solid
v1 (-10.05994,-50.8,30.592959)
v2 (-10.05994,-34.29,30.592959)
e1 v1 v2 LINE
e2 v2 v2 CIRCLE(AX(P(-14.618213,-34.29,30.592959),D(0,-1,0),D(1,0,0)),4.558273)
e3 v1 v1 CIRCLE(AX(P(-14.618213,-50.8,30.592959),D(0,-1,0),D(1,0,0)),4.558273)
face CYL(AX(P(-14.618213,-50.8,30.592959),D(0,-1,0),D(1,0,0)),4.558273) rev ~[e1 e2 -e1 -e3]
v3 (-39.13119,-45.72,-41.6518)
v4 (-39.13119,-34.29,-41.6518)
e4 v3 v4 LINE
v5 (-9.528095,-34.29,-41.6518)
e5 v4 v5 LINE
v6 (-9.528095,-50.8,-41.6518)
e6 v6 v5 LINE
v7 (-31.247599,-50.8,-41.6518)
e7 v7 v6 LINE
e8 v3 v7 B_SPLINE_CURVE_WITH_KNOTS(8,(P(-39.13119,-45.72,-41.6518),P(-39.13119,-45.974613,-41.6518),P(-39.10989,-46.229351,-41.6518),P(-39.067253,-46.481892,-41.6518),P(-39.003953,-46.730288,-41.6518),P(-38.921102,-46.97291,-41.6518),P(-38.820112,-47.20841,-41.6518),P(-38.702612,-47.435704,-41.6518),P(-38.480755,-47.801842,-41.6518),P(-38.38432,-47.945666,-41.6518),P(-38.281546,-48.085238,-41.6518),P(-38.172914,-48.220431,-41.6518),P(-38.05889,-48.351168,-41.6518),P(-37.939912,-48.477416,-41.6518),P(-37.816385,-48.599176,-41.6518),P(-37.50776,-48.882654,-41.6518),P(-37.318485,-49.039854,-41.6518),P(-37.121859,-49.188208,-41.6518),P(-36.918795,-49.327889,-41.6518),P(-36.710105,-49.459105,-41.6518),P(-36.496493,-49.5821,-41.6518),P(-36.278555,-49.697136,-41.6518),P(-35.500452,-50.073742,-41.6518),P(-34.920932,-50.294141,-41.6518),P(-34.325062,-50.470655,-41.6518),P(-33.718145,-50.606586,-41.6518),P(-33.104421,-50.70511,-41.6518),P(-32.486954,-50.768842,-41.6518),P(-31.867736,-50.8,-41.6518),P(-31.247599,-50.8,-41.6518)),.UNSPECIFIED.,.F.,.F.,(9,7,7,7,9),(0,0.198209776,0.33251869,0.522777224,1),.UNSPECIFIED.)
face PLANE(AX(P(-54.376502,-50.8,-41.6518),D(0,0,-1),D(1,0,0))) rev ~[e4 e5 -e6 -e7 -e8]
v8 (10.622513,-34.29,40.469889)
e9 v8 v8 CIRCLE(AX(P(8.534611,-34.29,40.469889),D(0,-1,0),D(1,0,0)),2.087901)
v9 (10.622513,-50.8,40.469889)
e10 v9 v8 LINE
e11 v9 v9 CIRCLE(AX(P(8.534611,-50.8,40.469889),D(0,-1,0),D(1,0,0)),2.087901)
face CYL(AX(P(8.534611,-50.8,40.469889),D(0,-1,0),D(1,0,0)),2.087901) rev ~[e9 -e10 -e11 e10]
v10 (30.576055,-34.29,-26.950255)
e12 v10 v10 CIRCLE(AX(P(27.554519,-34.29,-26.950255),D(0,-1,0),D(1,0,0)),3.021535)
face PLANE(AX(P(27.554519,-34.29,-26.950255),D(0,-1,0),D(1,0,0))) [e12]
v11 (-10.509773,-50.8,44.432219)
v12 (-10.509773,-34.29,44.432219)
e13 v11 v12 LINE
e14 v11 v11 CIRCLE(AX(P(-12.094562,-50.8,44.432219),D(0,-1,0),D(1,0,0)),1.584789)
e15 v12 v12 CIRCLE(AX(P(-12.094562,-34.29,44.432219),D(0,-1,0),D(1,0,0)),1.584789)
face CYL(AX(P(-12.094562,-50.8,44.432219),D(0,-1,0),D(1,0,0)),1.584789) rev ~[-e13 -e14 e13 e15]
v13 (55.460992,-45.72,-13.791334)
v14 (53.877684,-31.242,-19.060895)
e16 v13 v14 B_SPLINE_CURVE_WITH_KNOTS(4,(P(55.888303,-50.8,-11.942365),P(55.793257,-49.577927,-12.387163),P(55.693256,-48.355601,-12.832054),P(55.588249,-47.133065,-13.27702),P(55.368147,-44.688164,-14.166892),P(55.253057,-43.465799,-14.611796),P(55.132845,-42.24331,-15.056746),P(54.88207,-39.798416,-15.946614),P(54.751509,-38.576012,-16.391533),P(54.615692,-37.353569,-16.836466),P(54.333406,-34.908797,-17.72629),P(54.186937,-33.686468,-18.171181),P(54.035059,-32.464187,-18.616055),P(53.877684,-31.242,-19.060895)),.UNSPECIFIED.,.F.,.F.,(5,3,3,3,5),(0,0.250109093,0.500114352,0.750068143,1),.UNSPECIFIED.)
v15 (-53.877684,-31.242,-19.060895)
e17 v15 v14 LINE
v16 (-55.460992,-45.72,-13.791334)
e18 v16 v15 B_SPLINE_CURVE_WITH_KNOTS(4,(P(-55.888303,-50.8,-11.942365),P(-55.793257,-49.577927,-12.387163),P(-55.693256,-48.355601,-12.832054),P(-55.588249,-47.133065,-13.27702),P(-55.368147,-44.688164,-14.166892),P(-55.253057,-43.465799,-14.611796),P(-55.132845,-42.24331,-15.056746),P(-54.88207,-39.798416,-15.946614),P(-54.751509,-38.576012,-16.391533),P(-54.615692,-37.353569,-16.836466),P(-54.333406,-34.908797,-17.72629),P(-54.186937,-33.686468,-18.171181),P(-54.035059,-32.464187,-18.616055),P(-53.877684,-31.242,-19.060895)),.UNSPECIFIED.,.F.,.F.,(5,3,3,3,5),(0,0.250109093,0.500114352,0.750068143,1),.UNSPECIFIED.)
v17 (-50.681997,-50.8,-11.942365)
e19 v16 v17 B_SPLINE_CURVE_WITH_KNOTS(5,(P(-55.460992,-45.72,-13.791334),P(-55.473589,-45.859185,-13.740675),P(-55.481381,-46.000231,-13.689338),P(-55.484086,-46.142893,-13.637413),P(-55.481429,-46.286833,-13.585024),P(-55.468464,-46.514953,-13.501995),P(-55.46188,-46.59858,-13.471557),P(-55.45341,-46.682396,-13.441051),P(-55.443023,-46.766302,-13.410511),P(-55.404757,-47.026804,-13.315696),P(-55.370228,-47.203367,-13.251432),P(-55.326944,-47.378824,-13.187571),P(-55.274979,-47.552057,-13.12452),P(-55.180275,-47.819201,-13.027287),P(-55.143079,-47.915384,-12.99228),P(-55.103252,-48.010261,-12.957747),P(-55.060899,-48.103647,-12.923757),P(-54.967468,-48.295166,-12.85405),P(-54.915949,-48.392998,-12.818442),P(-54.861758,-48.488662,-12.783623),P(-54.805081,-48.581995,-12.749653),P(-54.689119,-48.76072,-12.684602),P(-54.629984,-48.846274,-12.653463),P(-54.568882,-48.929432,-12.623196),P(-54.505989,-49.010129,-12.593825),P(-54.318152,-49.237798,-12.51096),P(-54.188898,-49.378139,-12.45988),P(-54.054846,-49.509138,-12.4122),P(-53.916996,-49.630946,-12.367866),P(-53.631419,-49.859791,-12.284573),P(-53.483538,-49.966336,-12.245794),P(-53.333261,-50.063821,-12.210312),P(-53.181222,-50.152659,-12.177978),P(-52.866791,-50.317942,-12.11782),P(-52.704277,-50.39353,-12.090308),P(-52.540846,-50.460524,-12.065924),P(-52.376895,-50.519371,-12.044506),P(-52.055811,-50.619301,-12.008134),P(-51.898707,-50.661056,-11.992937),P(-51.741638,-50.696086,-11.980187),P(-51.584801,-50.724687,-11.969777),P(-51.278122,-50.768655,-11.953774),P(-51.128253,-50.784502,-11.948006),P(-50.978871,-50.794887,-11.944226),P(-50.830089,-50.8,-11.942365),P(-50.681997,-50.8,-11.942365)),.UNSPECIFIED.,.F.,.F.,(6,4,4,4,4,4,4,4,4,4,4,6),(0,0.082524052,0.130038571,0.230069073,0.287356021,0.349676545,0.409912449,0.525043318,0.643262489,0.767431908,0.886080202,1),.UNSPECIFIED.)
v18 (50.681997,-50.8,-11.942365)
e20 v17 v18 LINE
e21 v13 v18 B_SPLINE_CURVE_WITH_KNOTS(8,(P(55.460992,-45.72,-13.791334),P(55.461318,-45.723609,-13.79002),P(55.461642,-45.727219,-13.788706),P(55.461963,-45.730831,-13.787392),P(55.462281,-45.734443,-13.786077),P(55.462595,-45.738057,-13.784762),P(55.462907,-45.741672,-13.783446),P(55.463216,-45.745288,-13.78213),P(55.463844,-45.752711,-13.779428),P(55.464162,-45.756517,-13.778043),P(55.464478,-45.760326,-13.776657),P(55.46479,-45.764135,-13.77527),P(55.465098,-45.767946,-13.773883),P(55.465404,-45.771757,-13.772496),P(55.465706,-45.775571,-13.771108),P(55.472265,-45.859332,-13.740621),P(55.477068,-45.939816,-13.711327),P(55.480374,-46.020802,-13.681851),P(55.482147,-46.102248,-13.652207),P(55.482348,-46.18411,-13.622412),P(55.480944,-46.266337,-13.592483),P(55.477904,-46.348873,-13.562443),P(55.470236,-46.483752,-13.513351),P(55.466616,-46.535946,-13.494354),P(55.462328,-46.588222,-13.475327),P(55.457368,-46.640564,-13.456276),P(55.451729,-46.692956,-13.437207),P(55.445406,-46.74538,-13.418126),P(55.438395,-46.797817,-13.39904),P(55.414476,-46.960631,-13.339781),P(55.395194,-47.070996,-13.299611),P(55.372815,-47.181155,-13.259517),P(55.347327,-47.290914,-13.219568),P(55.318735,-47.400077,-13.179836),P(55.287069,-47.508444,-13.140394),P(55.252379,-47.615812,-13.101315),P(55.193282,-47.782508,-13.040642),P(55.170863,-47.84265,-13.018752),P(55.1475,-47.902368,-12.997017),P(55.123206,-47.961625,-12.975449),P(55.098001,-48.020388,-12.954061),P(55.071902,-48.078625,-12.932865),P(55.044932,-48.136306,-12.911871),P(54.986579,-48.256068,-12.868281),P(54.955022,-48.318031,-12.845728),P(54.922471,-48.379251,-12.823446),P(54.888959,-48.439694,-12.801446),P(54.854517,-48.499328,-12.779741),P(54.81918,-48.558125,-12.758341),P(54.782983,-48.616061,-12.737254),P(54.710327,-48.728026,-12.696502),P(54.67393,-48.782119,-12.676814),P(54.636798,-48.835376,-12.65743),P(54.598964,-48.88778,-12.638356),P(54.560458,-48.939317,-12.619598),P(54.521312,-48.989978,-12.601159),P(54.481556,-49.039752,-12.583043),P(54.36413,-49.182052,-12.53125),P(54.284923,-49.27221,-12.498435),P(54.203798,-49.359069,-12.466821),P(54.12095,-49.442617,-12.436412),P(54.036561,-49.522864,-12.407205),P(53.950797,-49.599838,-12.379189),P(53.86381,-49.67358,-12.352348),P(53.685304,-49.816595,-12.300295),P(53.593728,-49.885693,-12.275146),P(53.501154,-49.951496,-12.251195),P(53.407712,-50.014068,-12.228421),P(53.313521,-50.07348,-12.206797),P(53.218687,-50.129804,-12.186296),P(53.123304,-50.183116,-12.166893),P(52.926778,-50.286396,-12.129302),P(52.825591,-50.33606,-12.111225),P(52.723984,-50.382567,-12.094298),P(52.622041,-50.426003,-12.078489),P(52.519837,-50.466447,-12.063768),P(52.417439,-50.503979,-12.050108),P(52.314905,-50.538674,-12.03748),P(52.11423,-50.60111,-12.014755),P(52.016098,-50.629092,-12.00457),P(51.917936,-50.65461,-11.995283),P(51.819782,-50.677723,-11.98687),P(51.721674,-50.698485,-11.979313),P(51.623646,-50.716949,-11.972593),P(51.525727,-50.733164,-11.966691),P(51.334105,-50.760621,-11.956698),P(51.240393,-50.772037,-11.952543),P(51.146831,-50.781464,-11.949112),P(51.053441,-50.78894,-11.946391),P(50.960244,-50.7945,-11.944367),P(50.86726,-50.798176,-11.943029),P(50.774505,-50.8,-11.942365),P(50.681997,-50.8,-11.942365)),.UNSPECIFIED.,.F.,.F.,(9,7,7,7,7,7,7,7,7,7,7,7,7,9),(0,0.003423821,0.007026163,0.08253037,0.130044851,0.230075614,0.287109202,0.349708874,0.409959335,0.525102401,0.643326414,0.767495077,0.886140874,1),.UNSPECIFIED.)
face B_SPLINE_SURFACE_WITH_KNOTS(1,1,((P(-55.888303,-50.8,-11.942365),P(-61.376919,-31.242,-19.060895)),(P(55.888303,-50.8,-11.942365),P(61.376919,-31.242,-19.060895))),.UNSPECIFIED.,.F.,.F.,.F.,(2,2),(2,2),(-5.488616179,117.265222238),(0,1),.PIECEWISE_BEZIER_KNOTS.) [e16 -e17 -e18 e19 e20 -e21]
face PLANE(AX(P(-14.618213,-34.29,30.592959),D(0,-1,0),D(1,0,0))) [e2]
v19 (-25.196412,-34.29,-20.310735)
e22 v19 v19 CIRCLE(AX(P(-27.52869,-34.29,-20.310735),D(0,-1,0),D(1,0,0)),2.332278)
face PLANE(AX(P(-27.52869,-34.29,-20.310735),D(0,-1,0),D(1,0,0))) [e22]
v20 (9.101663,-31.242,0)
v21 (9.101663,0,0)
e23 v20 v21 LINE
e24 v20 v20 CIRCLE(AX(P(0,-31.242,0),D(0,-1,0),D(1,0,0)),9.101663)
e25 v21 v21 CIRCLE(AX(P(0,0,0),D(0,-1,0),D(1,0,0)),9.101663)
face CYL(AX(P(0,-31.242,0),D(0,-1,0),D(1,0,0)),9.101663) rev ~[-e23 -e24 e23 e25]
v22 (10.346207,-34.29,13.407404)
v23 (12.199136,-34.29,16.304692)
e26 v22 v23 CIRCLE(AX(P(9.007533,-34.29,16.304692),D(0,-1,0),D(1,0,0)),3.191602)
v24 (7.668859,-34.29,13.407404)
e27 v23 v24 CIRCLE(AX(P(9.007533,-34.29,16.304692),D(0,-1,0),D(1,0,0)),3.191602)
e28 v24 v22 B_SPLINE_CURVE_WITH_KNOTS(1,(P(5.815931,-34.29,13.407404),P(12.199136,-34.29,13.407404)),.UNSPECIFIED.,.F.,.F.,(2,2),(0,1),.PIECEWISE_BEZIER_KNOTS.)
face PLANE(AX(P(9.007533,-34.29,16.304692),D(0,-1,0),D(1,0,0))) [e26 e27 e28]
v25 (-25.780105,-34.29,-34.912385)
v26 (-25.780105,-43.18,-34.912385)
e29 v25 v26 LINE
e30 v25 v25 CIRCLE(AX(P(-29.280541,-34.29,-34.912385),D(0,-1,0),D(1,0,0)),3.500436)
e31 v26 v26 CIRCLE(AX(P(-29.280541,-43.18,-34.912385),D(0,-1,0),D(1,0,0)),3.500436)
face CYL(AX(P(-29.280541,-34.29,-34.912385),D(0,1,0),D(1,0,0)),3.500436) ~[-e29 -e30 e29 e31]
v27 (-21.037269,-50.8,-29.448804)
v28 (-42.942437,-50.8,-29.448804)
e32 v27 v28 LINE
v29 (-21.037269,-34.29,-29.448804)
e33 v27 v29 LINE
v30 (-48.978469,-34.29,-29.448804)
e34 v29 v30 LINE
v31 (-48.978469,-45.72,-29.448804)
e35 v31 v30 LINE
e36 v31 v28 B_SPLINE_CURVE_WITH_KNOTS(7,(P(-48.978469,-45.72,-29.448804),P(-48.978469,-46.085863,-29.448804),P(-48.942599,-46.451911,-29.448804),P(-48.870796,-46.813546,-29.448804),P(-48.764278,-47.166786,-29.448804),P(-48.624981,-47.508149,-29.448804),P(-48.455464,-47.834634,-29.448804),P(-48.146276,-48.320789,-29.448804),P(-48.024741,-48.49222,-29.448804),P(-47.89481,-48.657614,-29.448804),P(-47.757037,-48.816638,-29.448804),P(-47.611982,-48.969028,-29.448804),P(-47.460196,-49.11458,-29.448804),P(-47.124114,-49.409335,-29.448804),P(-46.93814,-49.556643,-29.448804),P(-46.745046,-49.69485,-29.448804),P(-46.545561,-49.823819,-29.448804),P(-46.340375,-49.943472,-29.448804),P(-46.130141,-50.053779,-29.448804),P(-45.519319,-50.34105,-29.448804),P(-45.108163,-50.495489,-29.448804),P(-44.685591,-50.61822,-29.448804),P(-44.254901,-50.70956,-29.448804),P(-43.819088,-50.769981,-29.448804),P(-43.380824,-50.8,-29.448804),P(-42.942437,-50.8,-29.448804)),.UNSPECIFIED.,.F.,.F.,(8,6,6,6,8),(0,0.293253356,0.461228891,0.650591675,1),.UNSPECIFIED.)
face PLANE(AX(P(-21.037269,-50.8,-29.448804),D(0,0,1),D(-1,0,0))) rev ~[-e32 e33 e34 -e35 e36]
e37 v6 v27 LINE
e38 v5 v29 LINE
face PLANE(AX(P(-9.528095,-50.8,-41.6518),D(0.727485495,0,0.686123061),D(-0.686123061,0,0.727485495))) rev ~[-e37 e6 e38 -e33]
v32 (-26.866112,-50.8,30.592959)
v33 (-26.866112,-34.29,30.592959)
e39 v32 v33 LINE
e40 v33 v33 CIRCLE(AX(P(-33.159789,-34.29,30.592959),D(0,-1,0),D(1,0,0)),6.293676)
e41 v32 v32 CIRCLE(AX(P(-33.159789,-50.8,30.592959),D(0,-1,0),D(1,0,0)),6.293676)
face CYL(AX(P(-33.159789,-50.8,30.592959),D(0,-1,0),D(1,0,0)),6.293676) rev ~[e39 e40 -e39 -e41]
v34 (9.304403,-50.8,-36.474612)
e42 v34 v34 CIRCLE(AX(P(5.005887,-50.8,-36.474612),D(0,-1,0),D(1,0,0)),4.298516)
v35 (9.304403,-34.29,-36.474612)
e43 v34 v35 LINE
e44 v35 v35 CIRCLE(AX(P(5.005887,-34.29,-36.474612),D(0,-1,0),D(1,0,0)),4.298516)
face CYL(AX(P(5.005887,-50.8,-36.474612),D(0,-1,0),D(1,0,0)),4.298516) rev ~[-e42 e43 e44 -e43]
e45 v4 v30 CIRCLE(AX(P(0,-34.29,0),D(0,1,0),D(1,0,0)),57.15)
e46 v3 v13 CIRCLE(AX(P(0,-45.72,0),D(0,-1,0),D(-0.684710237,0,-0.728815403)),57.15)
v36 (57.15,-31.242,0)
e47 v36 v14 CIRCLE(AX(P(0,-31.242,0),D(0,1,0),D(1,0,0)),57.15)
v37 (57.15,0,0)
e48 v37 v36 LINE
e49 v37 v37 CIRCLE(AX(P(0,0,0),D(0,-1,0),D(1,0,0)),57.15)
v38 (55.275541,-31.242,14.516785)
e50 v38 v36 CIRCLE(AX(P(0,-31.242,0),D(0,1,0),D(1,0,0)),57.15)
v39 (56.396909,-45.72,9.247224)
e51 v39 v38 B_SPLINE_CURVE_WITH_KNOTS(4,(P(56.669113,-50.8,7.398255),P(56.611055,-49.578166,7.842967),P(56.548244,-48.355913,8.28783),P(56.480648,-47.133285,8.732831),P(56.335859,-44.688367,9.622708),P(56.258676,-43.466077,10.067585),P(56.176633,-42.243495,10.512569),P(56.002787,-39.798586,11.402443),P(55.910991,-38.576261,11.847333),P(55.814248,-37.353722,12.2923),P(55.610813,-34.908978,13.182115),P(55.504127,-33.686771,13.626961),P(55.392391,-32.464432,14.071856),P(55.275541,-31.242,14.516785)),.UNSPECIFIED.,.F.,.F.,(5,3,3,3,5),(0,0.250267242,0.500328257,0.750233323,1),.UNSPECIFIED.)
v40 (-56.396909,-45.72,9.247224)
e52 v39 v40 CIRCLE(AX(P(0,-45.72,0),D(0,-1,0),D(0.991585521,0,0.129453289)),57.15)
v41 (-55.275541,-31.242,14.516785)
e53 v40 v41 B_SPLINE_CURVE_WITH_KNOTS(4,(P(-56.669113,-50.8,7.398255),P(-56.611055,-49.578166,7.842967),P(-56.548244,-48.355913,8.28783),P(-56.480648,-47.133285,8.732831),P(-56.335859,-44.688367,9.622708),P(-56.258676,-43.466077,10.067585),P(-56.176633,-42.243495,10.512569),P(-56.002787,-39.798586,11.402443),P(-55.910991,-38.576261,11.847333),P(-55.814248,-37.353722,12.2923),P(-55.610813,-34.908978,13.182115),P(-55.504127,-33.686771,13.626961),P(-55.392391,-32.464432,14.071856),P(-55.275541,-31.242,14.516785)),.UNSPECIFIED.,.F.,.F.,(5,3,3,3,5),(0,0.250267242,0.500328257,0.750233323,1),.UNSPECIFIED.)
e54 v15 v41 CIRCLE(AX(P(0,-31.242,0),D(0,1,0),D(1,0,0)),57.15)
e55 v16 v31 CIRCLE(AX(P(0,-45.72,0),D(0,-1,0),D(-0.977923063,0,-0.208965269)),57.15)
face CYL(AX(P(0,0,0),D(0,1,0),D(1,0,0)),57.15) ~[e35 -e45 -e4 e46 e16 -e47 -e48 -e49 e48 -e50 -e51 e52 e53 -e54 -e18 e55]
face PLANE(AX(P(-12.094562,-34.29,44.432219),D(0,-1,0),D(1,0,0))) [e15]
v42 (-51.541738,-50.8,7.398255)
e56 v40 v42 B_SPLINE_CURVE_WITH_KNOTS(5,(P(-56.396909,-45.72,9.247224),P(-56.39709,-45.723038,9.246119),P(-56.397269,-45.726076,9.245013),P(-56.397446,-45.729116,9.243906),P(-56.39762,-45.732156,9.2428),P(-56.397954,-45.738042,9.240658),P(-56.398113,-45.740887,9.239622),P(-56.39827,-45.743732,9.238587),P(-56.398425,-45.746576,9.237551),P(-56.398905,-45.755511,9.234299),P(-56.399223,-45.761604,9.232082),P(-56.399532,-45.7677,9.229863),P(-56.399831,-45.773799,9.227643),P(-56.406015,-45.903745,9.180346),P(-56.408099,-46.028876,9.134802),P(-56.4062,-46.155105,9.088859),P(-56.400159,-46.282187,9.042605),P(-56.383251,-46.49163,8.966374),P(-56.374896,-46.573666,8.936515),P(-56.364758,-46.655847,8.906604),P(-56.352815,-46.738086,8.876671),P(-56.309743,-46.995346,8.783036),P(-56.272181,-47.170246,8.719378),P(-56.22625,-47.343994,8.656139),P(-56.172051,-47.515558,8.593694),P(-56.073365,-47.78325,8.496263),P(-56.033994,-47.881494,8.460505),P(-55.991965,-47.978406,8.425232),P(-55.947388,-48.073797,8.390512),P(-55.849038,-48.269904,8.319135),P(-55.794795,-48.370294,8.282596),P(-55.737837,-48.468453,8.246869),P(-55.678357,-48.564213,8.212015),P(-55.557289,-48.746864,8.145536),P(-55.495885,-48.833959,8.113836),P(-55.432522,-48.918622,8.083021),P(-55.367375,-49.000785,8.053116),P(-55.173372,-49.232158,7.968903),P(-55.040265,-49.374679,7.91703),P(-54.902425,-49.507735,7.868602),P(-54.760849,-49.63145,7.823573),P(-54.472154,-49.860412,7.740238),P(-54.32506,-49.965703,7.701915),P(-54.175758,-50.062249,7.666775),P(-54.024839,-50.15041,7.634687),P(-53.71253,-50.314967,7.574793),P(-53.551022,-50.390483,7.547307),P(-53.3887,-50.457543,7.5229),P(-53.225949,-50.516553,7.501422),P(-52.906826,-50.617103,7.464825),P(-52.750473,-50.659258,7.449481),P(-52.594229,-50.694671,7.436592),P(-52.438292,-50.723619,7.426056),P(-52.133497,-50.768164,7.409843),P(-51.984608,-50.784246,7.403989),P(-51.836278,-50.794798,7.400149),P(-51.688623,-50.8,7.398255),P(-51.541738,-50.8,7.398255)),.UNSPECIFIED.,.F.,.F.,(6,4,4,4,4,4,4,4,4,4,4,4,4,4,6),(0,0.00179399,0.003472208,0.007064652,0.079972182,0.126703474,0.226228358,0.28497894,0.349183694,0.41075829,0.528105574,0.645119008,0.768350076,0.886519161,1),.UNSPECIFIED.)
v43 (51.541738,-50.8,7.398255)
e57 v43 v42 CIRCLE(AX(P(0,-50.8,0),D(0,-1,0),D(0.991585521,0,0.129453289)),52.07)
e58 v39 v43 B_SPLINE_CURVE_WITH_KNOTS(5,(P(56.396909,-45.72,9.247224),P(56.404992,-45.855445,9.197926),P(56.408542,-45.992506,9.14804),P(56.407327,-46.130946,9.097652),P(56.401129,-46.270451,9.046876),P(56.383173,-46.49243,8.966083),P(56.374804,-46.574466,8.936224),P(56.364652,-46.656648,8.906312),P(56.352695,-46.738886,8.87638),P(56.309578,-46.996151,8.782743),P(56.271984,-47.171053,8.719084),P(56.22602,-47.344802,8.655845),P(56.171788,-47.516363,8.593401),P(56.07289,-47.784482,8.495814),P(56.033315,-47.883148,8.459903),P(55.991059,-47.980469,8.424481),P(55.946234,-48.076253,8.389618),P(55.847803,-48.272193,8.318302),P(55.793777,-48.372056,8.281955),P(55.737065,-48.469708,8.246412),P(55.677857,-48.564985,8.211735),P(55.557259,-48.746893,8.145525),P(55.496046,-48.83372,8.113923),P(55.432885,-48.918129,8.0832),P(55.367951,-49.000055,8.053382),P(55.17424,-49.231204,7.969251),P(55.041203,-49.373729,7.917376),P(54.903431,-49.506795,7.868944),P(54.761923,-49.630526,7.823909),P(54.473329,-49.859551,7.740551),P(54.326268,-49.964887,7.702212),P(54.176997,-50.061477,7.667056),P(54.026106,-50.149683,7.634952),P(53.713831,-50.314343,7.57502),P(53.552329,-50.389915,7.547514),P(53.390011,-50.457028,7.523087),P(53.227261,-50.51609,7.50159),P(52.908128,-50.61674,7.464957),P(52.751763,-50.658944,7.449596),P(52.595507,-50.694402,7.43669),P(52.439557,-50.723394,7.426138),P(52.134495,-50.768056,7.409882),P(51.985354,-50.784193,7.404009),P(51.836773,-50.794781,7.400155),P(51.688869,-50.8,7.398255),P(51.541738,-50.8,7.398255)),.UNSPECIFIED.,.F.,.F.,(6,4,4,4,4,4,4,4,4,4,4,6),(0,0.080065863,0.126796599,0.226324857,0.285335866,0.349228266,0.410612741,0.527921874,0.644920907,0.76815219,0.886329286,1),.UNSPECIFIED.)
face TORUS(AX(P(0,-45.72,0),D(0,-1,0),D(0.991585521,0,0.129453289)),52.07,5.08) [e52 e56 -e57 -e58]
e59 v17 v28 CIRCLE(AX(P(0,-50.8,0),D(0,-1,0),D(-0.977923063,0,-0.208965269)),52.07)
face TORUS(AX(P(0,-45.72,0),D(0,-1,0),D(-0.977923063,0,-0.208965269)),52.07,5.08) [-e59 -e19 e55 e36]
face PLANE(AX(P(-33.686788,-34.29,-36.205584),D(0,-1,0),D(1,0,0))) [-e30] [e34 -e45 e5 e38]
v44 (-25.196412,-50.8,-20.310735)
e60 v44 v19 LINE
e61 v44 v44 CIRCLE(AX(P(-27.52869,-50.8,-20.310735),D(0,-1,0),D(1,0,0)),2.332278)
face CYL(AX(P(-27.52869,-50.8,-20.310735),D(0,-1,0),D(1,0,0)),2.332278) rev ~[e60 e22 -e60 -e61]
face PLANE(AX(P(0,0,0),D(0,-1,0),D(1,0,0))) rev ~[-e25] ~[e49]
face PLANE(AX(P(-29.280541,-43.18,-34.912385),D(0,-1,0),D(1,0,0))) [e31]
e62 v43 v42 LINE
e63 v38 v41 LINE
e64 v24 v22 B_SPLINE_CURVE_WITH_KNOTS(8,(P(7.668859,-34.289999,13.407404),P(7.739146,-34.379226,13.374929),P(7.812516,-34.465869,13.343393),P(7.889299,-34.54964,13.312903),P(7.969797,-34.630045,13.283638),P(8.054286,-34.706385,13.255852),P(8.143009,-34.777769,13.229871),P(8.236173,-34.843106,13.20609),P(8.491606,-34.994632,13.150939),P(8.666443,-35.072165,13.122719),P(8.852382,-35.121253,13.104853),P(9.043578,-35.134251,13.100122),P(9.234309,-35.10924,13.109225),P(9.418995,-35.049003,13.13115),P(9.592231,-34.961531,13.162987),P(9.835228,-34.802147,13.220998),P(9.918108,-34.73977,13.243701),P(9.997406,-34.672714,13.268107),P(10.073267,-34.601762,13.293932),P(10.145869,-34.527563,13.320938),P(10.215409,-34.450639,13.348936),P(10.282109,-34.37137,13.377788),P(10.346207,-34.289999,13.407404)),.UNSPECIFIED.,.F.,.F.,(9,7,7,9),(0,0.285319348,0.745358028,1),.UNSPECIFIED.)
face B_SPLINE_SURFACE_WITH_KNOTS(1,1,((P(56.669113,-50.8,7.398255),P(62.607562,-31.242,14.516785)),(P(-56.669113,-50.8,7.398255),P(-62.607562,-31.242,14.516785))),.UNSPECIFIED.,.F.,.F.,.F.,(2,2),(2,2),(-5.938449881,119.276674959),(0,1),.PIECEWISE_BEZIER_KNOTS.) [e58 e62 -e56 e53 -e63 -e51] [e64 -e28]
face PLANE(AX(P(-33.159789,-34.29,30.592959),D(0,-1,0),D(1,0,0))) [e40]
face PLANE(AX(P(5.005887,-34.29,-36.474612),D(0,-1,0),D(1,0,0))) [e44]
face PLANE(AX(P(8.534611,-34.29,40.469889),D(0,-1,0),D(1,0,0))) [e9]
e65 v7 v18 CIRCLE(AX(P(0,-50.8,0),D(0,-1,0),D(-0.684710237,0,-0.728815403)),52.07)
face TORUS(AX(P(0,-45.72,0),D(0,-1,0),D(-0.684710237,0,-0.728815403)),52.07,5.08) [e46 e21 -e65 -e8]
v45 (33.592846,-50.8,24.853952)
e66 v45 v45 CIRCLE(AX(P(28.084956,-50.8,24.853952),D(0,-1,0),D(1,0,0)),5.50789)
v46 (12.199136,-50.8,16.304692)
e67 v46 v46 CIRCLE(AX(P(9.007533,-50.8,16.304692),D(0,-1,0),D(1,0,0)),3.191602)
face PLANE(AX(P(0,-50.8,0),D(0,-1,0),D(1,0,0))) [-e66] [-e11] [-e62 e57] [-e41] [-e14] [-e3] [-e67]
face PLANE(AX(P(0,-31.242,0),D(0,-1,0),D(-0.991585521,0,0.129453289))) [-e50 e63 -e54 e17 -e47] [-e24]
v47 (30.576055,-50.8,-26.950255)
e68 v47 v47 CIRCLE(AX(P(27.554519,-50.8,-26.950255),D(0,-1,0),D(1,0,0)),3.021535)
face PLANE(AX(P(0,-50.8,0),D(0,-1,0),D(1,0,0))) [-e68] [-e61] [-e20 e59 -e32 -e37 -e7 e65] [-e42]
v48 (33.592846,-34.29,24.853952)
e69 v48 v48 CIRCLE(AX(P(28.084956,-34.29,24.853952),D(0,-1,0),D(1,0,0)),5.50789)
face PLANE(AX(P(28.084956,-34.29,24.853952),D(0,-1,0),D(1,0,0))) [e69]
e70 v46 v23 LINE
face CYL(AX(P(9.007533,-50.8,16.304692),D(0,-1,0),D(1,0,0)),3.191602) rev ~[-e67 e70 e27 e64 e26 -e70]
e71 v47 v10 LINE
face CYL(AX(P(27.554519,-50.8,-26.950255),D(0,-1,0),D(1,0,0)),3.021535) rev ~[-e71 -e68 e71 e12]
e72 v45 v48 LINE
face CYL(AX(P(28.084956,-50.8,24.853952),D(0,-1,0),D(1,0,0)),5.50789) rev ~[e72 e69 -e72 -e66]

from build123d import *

# Parameters (mm, degrees)
F0_R      = 57.15
F1_DEPTH  = 50.8
F3_DEPTH  = 19.558
F3_TAPER  = -20
F4_R      = 6.2936764169
F4_R_2    = 4.5582731786
F4_R_3    = 3.0215351301
F4_R_4    = 4.2985160405
F4_R_5    = 2.3322780101
F4_R_6    = 3.1916024355
F4_R_7    = 2.0879014362
F4_R_8    = 5.5078897411
F4_R_9    = 1.5847885442
F5_DEPTH  = 16.51
F6_R      = 3.5004361301
F7_DEPTH  = 8.89
F8_R      = 5.08
F9_R      = 5.08
F10_R     = 5.08
F11_R     = 9.1016628177
F12_DEPTH = 31.2430001


with BuildPart() as f1:
    # F0 (on Front) → F1 (new body)
    with BuildSketch(Plane.XZ):
        Circle(F0_R)
    extrude(amount=F1_DEPTH)

    # F2 (on face) → F3 (cut)
    with BuildSketch(Plane.XZ.offset(50.8)):
        with BuildLine():
            Line((56.6691125389, 7.398255474), (-56.6691125389, 7.398255474))
            ThreePointArc((-56.6691125389, 7.398255474), (-57.103483703, -2.3053522456), (-55.8883030293, -11.9423651134))
            Line((-55.8883030293, -11.9423651134), (55.8883030293, -11.9423651134))
            ThreePointArc((55.8883030293, -11.9423651134), (56.8337004696, -6.0044142876), (57.15, 0))
            ThreePointArc((57.15, 0), (57.0296514175, 3.7069339355), (56.6691125389, 7.398255474))
        make_face()
    extrude(amount=-F3_DEPTH, taper=F3_TAPER, mode=Mode.SUBTRACT)

    # F4 (on face) → F5 (cut)
    with BuildSketch(Plane.XZ.offset(50.8)):
        with Locations((-33.159788698, 30.5929593742)):
            Circle(F4_R)
        with Locations((-14.6182132885, 30.5929593742)):
            Circle(F4_R_2)
        with Locations((27.5545194745, -26.9502550364)):
            Circle(F4_R_3)
        with Locations((5.0058867782, -36.4746116102)):
            Circle(F4_R_4)
        with Locations((-27.5286901742, -20.31073533)):
            Circle(F4_R_5)
        with Locations((9.0075330809, 16.3046922535)):
            Circle(F4_R_6)
        with Locations((8.5346112028, 40.4698885977)):
            Circle(F4_R_7)
        with Locations((28.0849561095, 24.853952229)):
            Circle(F4_R_8)
        Polygon((-9.5280949026, -41.6518002748), (-21.0372693837, -29.4488035142), (-54.37650159, -29.4488035142), (-54.37650159, -41.6518002748), align=None)
        with Locations((-12.0945619419, 44.4322191179)):
            Circle(F4_R_9)
    extrude(amount=-F5_DEPTH, mode=Mode.SUBTRACT)

    # F6 (on face) → F7 (join)
    with BuildSketch(Plane.XZ.offset(34.29)):
        with Locations((-29.2805414647, -34.9123850465)):
            Circle(F6_R)
    extrude(amount=F7_DEPTH)

    # F8
    f8_edges = [f1.edges().sort_by_distance(p)[0] for p in [
        (17.054702, -50.8, -54.545941),
    ]]
    fillet(f8_edges, radius=F8_R)

    # F9
    f9_edges = [f1.edges().sort_by_distance(p)[0] for p in [
        (0, -50.8, 57.15),
    ]]
    fillet(f9_edges, radius=F9_R)

    # F10
    f10_edges = [f1.edges().sort_by_distance(p)[0] for p in [
        (-53.158996, -50.8, -20.981984),
    ]]
    fillet(f10_edges, radius=F10_R)

    # F11 (on face) → F12 (cut, through all)
    with BuildSketch(Plane.XZ.offset(31.242)):
        Circle(F11_R)
    extrude(amount=-F12_DEPTH, mode=Mode.SUBTRACT)


solid = f1.part
